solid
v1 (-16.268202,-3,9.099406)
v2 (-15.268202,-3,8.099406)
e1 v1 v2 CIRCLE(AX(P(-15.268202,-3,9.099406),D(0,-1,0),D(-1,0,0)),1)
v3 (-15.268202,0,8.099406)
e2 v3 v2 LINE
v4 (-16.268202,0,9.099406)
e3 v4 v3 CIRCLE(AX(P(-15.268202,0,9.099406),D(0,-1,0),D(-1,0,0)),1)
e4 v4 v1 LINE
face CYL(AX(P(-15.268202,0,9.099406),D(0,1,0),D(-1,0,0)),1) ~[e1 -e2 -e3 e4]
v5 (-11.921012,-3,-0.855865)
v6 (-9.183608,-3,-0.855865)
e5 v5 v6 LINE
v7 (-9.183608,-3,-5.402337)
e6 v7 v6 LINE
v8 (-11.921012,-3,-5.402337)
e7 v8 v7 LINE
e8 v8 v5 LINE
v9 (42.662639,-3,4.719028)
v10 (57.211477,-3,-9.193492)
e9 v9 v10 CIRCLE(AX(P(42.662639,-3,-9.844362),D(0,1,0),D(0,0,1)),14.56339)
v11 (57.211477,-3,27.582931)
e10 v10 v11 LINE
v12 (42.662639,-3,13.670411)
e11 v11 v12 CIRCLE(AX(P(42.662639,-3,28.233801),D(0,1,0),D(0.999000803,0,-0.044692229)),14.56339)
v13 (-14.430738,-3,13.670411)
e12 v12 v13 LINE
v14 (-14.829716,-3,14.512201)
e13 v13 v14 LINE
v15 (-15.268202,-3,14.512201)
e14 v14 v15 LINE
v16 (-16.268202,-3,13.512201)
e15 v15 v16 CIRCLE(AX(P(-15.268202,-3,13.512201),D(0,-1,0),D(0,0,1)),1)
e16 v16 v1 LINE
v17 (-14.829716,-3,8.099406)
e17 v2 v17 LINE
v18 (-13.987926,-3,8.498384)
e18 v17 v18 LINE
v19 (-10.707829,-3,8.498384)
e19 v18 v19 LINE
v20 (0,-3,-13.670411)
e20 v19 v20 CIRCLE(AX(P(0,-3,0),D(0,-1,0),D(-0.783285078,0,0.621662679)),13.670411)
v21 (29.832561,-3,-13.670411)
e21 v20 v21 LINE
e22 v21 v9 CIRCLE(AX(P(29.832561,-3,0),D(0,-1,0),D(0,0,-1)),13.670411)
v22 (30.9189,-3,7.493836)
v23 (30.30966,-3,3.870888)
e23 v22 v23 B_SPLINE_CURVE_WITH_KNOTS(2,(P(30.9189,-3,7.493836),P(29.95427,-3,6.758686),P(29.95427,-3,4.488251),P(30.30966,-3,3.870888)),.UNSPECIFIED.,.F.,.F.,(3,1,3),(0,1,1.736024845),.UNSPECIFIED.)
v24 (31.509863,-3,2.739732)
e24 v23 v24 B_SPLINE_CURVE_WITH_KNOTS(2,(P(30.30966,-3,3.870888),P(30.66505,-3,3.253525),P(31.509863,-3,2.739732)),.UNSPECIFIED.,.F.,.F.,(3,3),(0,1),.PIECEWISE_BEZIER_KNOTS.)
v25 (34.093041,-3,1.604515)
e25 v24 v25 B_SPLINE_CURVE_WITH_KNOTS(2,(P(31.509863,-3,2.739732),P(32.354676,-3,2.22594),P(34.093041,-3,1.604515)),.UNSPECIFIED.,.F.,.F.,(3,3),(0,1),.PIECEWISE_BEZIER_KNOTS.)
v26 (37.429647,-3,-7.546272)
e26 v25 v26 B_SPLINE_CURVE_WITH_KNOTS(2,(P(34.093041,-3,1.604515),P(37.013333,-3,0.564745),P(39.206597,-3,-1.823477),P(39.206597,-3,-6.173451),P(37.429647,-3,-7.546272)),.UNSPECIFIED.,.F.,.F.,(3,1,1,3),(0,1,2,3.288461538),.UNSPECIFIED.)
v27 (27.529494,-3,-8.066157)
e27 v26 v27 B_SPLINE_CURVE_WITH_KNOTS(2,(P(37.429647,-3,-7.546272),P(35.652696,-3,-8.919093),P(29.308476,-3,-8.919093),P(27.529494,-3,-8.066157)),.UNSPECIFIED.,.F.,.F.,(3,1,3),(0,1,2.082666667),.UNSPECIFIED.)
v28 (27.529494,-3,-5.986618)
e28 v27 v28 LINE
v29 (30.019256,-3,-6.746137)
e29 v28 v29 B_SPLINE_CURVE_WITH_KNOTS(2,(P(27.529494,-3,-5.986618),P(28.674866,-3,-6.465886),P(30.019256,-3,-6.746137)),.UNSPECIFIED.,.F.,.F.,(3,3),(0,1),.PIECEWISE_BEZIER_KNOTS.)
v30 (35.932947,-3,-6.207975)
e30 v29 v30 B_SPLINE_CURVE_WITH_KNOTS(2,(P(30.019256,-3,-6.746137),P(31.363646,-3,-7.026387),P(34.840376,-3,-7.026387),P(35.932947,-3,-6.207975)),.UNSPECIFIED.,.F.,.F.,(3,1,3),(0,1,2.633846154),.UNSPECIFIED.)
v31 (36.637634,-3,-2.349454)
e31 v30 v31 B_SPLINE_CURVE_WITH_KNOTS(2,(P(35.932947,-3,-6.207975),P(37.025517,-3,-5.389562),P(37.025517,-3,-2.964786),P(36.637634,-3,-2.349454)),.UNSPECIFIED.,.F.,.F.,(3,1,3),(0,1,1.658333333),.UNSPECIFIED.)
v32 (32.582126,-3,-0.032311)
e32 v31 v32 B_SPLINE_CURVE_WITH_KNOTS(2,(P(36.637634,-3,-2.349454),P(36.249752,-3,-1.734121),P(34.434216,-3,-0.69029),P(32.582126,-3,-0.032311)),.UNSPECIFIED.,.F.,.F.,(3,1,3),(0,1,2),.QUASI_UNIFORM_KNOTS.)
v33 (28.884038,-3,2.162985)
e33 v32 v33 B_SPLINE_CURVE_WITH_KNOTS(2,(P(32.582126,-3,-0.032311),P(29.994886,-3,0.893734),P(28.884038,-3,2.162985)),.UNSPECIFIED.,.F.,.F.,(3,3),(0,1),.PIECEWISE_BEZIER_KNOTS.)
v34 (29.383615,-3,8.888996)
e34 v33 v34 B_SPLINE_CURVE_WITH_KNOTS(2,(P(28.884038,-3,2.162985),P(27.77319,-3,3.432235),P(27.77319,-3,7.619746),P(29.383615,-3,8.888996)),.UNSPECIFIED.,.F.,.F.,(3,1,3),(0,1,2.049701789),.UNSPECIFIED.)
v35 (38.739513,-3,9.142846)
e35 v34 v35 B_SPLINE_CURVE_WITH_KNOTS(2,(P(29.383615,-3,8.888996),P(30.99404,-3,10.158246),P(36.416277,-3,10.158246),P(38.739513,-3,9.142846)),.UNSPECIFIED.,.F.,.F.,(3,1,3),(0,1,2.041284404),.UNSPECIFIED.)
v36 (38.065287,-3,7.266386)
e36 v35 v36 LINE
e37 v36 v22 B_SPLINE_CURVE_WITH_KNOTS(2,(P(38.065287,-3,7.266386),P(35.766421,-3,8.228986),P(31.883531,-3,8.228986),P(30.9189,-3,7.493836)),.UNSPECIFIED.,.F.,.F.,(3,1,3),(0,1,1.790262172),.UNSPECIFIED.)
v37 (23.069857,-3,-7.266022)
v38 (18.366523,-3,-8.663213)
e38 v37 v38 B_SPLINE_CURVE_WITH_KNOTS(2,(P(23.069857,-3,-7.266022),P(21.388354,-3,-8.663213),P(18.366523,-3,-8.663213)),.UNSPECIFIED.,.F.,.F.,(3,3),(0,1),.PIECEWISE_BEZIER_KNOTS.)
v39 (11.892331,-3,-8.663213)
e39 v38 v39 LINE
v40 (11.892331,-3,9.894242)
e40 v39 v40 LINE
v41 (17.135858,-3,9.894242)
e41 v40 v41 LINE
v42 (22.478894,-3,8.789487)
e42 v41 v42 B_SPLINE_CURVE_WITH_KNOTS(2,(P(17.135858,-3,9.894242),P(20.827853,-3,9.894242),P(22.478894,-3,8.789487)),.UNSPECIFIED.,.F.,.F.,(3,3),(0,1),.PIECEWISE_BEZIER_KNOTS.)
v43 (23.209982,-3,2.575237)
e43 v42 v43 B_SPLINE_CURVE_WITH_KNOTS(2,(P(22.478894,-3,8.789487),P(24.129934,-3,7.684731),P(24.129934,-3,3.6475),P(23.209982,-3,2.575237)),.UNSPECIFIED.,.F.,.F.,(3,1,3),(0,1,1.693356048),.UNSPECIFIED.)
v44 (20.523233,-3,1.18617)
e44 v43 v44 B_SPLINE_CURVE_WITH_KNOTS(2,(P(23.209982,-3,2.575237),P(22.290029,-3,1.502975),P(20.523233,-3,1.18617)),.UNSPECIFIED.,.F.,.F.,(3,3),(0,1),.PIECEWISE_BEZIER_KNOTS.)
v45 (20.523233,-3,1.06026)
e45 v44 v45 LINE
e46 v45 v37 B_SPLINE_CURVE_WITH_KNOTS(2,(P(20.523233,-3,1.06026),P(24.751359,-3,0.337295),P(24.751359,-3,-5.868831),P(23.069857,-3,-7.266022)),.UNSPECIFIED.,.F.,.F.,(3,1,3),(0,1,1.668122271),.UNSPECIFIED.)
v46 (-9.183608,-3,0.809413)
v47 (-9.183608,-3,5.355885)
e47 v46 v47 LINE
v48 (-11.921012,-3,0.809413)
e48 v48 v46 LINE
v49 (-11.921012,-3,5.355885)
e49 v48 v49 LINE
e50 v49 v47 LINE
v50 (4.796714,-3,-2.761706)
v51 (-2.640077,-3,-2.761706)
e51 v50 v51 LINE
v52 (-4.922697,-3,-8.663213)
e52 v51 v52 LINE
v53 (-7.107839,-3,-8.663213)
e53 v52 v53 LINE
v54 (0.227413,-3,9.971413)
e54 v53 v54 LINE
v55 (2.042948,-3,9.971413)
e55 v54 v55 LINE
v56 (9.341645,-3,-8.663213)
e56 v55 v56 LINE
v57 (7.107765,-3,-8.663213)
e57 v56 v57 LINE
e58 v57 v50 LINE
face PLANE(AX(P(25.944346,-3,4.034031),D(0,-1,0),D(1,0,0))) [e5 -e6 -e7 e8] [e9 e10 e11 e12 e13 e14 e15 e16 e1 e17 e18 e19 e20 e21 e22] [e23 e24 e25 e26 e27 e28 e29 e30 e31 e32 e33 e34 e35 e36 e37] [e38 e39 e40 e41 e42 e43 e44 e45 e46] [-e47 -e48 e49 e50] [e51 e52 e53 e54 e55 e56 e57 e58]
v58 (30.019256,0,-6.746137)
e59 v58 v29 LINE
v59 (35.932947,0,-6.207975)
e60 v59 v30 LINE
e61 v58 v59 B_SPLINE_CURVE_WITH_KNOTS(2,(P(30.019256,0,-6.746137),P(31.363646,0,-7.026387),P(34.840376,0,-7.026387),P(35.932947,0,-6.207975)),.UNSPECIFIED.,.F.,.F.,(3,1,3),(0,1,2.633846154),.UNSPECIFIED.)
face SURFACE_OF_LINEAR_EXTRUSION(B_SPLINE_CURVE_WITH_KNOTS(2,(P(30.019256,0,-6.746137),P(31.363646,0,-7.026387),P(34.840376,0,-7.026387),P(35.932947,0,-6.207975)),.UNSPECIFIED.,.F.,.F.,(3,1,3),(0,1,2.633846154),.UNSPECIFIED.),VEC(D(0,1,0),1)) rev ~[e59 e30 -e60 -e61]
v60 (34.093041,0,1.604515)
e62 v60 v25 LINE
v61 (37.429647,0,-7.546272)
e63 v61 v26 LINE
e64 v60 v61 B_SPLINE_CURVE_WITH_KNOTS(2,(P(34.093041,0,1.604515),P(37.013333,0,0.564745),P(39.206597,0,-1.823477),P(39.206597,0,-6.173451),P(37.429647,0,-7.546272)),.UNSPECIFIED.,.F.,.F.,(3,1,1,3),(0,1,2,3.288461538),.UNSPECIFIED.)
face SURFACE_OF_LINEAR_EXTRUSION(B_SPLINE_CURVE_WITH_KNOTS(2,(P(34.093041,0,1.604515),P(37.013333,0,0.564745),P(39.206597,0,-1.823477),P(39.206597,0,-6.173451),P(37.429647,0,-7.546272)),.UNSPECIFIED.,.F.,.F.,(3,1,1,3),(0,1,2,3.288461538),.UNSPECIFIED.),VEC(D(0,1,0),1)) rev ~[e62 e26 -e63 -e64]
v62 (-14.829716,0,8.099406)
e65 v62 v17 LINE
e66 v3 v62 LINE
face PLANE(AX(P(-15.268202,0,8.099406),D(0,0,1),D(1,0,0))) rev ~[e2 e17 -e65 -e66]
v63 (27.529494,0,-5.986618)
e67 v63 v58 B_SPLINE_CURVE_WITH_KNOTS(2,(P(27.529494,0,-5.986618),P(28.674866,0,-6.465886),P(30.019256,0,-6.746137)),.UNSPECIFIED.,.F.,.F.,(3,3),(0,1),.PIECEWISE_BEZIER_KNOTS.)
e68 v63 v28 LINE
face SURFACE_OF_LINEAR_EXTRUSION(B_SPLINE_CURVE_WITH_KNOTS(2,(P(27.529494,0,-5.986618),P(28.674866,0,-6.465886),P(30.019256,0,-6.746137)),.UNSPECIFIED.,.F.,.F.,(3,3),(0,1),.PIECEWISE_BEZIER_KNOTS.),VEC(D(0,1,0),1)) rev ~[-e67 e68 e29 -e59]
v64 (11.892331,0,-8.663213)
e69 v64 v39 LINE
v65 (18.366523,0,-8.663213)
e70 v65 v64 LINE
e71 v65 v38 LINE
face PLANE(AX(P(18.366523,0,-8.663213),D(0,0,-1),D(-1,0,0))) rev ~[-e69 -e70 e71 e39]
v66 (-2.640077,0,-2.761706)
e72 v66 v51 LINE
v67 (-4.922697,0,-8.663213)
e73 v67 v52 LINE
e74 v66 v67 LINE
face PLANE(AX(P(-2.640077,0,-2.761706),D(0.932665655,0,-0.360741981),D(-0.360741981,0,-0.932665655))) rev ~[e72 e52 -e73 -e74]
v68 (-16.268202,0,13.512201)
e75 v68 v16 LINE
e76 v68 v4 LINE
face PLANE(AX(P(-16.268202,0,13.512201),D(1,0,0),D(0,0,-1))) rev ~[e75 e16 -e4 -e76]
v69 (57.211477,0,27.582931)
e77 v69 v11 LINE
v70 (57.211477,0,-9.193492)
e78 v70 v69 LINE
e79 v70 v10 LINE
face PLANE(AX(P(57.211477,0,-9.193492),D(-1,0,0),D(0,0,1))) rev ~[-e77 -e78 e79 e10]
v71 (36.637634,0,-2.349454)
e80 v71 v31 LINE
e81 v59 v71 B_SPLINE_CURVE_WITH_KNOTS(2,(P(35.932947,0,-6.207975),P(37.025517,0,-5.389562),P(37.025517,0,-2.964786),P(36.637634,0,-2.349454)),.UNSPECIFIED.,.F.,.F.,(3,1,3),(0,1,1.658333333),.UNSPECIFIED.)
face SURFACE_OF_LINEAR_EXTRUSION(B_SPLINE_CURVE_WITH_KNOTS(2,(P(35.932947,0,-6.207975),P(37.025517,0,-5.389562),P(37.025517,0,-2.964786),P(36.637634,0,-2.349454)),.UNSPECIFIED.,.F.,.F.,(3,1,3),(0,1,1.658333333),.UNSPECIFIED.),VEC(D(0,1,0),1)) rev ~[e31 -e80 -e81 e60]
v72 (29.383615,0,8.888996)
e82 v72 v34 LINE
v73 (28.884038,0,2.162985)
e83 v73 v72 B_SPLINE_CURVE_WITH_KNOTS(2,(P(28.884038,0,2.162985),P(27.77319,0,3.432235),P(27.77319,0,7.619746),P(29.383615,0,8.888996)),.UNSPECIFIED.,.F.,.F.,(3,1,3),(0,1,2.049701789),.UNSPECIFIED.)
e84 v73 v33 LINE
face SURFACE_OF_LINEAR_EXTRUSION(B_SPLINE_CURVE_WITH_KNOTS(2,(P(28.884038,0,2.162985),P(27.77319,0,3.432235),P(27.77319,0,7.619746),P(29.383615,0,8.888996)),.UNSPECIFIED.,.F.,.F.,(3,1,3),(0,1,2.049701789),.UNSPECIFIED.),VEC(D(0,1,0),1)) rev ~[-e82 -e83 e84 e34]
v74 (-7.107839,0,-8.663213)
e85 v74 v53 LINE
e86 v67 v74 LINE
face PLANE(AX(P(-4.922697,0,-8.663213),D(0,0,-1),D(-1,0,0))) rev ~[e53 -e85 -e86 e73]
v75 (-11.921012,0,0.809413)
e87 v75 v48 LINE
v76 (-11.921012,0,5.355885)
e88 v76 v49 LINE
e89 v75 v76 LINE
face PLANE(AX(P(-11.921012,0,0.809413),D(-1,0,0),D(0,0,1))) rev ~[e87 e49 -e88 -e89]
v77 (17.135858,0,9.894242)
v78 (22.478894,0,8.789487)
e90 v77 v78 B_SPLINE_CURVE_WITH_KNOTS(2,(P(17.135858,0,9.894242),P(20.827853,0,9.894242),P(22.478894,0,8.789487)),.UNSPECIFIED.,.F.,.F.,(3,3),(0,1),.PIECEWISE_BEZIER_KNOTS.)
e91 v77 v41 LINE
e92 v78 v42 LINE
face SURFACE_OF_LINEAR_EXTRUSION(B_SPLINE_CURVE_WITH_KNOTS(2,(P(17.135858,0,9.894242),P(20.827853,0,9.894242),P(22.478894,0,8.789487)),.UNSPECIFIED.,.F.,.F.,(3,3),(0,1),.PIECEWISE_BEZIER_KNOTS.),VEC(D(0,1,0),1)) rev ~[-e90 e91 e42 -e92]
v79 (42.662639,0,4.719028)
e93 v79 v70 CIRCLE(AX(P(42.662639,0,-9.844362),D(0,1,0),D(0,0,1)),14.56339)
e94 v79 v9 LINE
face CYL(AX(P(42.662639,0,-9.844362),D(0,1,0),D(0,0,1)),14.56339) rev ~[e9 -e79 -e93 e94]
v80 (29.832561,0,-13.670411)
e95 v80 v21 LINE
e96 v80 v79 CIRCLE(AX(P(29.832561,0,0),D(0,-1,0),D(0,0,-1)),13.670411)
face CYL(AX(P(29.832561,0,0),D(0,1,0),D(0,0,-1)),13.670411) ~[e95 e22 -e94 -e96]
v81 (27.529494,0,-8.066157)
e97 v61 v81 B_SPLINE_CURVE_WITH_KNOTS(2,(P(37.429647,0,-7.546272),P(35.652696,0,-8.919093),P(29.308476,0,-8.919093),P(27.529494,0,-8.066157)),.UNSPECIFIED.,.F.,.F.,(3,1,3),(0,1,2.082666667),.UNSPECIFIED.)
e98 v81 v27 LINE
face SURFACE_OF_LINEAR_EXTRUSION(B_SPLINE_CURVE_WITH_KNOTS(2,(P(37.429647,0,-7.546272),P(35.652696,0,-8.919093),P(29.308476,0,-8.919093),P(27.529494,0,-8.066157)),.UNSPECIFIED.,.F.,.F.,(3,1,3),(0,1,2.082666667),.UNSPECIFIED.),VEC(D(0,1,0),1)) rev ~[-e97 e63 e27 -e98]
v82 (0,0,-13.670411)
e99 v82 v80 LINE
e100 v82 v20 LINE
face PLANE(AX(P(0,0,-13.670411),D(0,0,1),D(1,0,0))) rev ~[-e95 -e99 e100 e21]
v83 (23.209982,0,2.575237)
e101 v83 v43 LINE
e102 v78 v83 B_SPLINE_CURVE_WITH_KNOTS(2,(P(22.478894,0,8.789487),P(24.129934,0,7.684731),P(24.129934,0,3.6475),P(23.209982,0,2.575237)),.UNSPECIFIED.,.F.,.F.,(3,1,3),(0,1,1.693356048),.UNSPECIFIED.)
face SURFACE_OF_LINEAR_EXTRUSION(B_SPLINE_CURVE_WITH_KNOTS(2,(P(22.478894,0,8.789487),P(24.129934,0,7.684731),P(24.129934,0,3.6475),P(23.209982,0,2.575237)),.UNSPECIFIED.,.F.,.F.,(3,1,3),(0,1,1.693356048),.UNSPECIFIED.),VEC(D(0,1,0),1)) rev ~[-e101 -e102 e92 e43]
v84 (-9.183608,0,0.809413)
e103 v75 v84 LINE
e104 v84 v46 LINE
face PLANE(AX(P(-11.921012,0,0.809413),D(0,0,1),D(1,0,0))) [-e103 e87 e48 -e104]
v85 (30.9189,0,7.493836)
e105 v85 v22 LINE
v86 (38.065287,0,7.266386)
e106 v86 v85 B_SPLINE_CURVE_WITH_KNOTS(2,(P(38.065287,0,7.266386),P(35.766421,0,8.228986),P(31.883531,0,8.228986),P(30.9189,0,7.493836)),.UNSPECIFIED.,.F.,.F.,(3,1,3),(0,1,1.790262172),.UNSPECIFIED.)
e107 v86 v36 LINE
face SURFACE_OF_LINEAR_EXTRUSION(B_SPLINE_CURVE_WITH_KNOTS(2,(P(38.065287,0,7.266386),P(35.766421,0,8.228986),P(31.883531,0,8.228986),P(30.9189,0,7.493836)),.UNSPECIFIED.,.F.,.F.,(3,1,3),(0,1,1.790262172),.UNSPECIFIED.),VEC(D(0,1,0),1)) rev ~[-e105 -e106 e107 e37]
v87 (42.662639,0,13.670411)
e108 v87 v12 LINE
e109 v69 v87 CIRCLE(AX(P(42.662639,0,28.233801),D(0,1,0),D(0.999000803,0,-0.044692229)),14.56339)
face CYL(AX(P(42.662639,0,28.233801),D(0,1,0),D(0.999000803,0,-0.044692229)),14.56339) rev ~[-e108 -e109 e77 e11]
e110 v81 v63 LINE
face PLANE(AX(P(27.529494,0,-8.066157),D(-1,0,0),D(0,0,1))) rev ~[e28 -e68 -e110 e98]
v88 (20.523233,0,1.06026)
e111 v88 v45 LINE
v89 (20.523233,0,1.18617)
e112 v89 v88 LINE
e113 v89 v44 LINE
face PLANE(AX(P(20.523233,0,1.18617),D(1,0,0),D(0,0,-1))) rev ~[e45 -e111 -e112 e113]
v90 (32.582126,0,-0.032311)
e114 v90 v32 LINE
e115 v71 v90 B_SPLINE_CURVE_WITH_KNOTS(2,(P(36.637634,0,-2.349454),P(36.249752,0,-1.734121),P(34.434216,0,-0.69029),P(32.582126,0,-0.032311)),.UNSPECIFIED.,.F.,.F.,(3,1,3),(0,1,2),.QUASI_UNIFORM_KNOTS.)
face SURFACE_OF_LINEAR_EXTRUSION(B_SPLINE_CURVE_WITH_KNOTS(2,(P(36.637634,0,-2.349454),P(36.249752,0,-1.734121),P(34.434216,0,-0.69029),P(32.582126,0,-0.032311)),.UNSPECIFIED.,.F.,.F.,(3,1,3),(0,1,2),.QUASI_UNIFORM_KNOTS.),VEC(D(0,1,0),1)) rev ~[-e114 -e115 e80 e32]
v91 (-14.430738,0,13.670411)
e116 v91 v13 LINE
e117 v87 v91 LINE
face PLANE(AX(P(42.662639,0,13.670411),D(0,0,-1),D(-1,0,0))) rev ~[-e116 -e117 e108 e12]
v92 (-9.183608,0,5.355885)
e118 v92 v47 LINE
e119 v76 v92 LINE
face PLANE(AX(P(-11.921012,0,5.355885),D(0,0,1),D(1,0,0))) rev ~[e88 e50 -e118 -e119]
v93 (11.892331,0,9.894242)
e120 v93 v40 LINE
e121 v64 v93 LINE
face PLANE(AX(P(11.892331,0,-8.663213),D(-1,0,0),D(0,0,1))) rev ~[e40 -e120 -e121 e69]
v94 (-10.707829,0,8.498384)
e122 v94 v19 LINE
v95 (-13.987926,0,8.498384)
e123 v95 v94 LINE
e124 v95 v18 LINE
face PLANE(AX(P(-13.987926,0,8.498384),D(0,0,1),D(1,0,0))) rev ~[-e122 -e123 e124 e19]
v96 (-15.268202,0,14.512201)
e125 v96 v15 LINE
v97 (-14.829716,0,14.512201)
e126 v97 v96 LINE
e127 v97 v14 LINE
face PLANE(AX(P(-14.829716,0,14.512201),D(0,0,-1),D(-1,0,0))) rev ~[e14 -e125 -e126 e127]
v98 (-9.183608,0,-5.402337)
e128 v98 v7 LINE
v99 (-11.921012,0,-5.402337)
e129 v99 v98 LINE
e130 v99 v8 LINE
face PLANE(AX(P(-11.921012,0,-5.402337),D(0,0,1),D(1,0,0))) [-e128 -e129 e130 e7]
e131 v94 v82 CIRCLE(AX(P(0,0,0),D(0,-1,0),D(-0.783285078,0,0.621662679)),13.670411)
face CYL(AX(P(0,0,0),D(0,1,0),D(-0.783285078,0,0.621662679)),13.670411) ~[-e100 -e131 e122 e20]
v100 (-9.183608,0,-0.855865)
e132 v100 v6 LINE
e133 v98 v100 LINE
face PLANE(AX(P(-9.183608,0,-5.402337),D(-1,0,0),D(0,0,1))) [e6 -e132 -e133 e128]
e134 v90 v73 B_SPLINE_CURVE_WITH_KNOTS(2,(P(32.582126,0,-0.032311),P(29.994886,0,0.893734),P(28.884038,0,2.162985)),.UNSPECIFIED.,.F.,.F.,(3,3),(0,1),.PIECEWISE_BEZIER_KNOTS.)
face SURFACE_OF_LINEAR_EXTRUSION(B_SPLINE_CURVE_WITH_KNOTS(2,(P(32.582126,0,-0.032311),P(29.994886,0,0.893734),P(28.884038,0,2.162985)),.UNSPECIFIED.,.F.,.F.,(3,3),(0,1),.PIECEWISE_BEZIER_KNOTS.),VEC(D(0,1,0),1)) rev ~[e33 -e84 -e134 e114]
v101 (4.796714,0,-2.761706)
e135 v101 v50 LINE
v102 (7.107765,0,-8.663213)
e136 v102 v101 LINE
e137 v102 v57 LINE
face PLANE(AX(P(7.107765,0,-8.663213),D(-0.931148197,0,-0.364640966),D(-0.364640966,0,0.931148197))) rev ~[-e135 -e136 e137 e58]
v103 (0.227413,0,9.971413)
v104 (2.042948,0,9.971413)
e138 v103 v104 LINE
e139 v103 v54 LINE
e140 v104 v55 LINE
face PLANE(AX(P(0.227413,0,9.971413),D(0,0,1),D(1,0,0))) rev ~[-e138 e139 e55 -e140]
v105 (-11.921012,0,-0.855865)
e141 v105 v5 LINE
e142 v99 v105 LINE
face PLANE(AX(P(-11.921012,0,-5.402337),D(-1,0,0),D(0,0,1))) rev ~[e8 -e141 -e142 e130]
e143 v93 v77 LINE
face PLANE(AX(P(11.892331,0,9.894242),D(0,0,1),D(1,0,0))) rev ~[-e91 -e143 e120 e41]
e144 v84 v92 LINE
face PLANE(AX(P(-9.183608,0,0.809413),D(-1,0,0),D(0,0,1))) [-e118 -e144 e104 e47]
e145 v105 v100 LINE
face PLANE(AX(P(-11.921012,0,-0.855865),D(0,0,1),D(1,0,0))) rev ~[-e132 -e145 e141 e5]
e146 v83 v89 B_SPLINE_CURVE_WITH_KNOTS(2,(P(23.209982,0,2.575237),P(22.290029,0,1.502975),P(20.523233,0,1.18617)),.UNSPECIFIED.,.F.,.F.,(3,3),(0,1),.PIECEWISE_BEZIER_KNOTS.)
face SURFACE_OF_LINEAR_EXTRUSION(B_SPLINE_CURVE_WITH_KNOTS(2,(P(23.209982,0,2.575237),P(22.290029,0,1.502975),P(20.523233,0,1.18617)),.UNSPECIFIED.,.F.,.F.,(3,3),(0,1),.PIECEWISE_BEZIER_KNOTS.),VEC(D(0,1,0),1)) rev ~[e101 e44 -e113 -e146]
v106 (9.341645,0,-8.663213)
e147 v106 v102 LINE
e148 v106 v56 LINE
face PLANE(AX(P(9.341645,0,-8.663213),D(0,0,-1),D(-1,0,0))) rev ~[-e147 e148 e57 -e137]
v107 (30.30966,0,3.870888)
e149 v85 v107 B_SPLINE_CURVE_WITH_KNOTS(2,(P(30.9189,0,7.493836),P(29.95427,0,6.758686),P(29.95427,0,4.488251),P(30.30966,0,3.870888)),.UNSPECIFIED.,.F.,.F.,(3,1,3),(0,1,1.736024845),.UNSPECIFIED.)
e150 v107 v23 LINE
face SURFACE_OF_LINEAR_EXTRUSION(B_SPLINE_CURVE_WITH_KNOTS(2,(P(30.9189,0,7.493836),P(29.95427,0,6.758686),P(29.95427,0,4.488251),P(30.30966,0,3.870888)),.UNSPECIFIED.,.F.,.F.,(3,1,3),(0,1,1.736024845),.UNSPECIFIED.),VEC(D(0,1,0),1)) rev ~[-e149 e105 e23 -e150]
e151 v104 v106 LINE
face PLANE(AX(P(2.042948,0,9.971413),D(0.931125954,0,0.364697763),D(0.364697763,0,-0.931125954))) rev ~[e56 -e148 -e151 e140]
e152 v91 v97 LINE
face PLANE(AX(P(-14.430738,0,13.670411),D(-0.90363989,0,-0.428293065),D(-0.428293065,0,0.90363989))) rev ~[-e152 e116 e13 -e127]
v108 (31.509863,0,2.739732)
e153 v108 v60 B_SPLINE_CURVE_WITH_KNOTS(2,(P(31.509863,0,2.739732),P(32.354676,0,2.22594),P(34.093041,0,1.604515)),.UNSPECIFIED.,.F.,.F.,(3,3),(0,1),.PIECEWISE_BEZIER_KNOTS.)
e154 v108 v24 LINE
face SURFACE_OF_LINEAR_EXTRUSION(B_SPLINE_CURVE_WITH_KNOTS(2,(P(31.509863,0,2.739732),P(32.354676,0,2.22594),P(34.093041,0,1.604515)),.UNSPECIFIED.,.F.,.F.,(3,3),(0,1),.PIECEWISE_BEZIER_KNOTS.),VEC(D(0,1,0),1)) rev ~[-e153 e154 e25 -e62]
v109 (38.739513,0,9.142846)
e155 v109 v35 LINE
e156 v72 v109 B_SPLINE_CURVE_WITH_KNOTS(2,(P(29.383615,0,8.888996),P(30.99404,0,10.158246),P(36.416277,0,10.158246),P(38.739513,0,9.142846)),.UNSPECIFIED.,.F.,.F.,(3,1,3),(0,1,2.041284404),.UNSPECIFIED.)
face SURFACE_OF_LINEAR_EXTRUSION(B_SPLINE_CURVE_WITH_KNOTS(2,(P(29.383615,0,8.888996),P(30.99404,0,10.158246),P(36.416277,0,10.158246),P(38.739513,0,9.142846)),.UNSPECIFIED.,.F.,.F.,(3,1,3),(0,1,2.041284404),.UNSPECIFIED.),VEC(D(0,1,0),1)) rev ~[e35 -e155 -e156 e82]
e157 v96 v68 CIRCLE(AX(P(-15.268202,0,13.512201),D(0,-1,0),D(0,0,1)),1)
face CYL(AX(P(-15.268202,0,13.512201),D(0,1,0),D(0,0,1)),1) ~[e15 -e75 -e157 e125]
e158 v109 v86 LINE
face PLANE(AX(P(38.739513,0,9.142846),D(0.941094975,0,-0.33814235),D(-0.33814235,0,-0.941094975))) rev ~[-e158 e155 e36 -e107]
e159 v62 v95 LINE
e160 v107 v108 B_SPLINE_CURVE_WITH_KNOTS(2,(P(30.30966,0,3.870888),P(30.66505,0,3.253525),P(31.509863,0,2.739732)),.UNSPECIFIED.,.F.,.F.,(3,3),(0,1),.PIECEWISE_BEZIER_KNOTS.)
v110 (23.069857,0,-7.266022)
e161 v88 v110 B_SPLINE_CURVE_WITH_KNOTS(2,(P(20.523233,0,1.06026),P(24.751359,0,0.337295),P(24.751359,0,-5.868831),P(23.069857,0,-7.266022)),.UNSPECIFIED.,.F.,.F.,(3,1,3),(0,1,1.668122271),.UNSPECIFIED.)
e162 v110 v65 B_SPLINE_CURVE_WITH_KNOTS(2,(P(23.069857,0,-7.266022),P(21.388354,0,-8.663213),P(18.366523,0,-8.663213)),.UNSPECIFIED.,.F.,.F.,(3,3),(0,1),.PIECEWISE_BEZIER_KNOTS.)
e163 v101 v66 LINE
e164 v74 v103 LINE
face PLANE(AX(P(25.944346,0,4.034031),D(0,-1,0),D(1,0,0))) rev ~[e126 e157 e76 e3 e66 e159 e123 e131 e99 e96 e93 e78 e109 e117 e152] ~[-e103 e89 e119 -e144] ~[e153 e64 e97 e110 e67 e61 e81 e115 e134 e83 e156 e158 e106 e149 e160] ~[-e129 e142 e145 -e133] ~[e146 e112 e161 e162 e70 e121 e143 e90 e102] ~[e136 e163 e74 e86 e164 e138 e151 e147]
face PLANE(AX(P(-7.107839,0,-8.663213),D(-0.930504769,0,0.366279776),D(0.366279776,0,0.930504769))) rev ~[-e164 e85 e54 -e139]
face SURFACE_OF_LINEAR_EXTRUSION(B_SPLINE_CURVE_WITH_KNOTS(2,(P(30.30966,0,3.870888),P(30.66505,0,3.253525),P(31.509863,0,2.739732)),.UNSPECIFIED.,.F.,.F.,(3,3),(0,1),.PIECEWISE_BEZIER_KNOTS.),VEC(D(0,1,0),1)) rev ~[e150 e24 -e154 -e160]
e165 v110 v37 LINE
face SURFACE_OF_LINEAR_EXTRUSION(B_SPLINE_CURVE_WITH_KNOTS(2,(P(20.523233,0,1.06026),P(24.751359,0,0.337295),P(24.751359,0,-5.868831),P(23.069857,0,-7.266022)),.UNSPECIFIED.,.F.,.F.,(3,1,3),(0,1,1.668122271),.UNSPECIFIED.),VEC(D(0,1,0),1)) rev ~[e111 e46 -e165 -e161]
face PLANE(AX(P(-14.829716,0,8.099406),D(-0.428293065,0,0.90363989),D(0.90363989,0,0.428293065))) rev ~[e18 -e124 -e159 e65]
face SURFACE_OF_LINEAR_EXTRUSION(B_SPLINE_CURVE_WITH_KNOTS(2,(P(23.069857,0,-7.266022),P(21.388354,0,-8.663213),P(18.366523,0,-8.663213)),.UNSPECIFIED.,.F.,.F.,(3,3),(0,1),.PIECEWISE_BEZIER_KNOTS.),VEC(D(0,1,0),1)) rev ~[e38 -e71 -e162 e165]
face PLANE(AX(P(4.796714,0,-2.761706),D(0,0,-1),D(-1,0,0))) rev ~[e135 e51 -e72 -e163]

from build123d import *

# Parameters (mm, degrees)
F0_W     = 2.7374038473
F0_H     = 4.5464726281
F1_DEPTH = 3


with BuildPart() as f1:
    # F0 (on Front) → F1 (new body)
    with BuildSketch(Plane.XZ):
        with BuildLine():
            Line((-13.9879264009, 8.4983842463), (-10.7078288449, 8.4983842463))
            ThreePointArc((-10.7078288449, 8.4983842463), (-12.3096819162, -5.9457433928), (0, -13.6704108706))
            Line((0, -13.6704108706), (29.832560569, -13.6704108706))
            ThreePointArc((29.832560569, -13.6704108706), (41.0439649972, -7.8220549805), (42.6626390029, 4.7190275219))
            ThreePointArc((42.6626390029, 4.7190275219), (52.7277631814, 0.6811115523), (57.2114773095, -9.193492122))
            Line((57.2114773095, -9.193492122), (57.2114773095, 27.5829305145))
            ThreePointArc((57.2114773095, 27.5829305145), (52.7277631814, 17.7083268402), (42.6626390029, 13.6704108706))
            Line((42.6626390029, 13.6704108706), (29.832560569, 13.6704108706))
            Line((29.832560569, 13.6704108706), (0, 13.6704108706))
            Line((0, 13.6704108706), (-14.4307379611, 13.6704108706))
            Line((-14.4307379611, 13.6704108706), (-14.8297163701, 14.5122008398))
            Line((-14.8297163701, 14.5122008398), (-15.268201828, 14.5122008398))
            ThreePointArc((-15.268201828, 14.5122008398), (-15.9753086092, 14.219307621), (-16.268201828, 13.5122008398))
            Line((-16.268201828, 13.5122008398), (-16.268201828, 9.0994058373))
            ThreePointArc((-16.268201828, 9.0994058373), (-15.9753086092, 8.3922990562), (-15.268201828, 8.0994058373))
            Line((-15.268201828, 8.0994058373), (-14.8297163701, 8.0994058373))
            Line((-14.8297163701, 8.0994058373), (-13.9879264009, 8.4983842463))
        make_face()
        with Locations((-10.5523099191, -3.12910098)):
            Rectangle(F0_W, F0_H, mode=Mode.SUBTRACT)
        Polygon((9.3416453156, -8.6632125312), (7.1077647943, -8.6632125312), (4.7967138551, -2.7617063542), (-2.6400774802, -2.7617063542), (-4.9226972128, -8.6632125312), (-7.1078385226, -8.6632125312), (0.2274127889, 9.9714126168), (2.0429484125, 9.9714126168), align=None, mode=Mode.SUBTRACT)
        with Locations((-10.5523099191, 3.0826488801)):
            Rectangle(F0_W, F0_H, mode=Mode.SUBTRACT)
        with BuildLine():
            Line((11.8923307107, -8.6632125312), (11.8923307107, 9.8942421988))
            Line((11.8923307107, 9.8942421988), (17.1358575342, 9.8942421988))
            add(Edge.make_bspline(
                [(17.1358575342, 9.8942421988), (20.8278527957, 9.8942421988), (22.4788935809, 8.7894867411)],
                knots=[0, 0, 0, 1, 1, 1], degree=2))
            add(Edge.make_bspline(
                [(22.4788935809, 8.7894867411), (24.1299343662, 7.6847312833), (24.1299343662, 5.300571527)],
                knots=[0, 0, 0, 1, 1, 1], degree=2))
            add(Edge.make_bspline(
                [(24.1299343662, 5.300571527), (24.1299343662, 3.6474999413), (23.2099817515, 2.5752372911)],
                knots=[0, 0, 0, 1, 1, 1], degree=2))
            add(Edge.make_bspline(
                [(23.2099817515, 2.5752372911), (22.2900291369, 1.5029746409), (20.5232327246, 1.1861697669)],
                knots=[0, 0, 0, 1, 1, 1], degree=2))
            Line((20.5232327246, 1.1861697669), (20.5232327246, 1.0602601376))
            add(Edge.make_bspline(
                [(20.5232327246, 1.0602601376), (24.7513593112, 0.3372951689), (24.7513593112, -3.3831312992)],
                knots=[0, 0, 0, 1, 1, 1], degree=2))
            add(Edge.make_bspline(
                [(24.7513593112, -3.3831312992), (24.7513593112, -5.8688310792), (23.0698565188, -7.2660218052)],
                knots=[0, 0, 0, 1, 1, 1], degree=2))
            add(Edge.make_bspline(
                [(23.0698565188, -7.2660218052), (21.3883537265, -8.6632125312), (18.3665226214, -8.6632125312)],
                knots=[0, 0, 0, 1, 1, 1], degree=2))
            Line((18.3665226214, -8.6632125312), (11.8923307107, -8.6632125312))
        make_face(mode=Mode.SUBTRACT)
        with BuildLine():
            add(Edge.make_bspline(
                [(38.1099648282, -0.6293658567), (39.2065970841, -1.8234765353), (39.2065970841, -3.7243057788)],
                knots=[0, 0, 0, 1, 1, 1], degree=2))
            add(Edge.make_bspline(
                [(39.2065970841, -3.7243057788), (39.2065970841, -6.1734511503), (37.4296466694, -7.5462722706)],
                knots=[0, 0, 0, 1, 1, 1], degree=2))
            add(Edge.make_bspline(
                [(37.4296466694, -7.5462722706), (35.6526962548, -8.919093391), (32.606495544, -8.919093391)],
                knots=[0, 0, 0, 1, 1, 1], degree=2))
            add(Edge.make_bspline(
                [(32.606495544, -8.919093391), (29.3084755745, -8.919093391), (27.5294943594, -8.0661571919)],
                knots=[0, 0, 0, 1, 1, 1], degree=2))
            Line((27.5294943594, -8.0661571919), (27.5294943594, -5.9866175067))
            add(Edge.make_bspline(
                [(27.5294943594, -5.9866175067), (28.6748658267, -6.4658864185), (30.0192557403, -6.7461368839)],
                knots=[0, 0, 0, 1, 1, 1], degree=2))
            add(Edge.make_bspline(
                [(30.0192557403, -6.7461368839), (31.363645654, -7.0263873493), (32.683665962, -7.0263873493)],
                knots=[0, 0, 0, 1, 1, 1], degree=2))
            add(Edge.make_bspline(
                [(32.683665962, -7.0263873493), (34.8403760653, -7.0263873493), (35.9329467202, -6.2079747584)],
                knots=[0, 0, 0, 1, 1, 1], degree=2))
            add(Edge.make_bspline(
                [(35.9329467202, -6.2079747584), (37.0255173751, -5.3895621674), (37.0255173751, -3.9273858262)],
                knots=[0, 0, 0, 1, 1, 1], degree=2))
            add(Edge.make_bspline(
                [(37.0255173751, -3.9273858262), (37.0255173751, -2.9647864016), (36.6376344846, -2.349453858)],
                knots=[0, 0, 0, 1, 1, 1], degree=2))
            add(Edge.make_bspline(
                [(36.6376344846, -2.349453858), (36.2497515941, -1.7341213145), (35.3419837823, -1.2122055927)],
                knots=[0, 0, 0, 1, 1, 1], degree=2))
            add(Edge.make_bspline(
                [(35.3419837823, -1.2122055927), (34.4342159705, -0.6902898709), (32.5821259383, -0.0323105174)],
                knots=[0, 0, 0, 1, 1, 1], degree=2))
            add(Edge.make_bspline(
                [(32.5821259383, -0.0323105174), (29.9948861347, 0.8937344987), (28.8840382755, 2.1629847949)],
                knots=[0, 0, 0, 1, 1, 1], degree=2))
            add(Edge.make_bspline(
                [(28.8840382755, 2.1629847949), (27.7731904163, 3.432235091), (27.7731904163, 5.4752203677)],
                knots=[0, 0, 0, 1, 1, 1], degree=2))
            add(Edge.make_bspline(
                [(27.7731904163, 5.4752203677), (27.7731904163, 7.6197456681), (29.383615192, 8.8889959643)],
                knots=[0, 0, 0, 1, 1, 1], degree=2))
            add(Edge.make_bspline(
                [(29.383615192, 8.8889959643), (30.9940399678, 10.1582462604), (33.6503269876, 10.1582462604)],
                knots=[0, 0, 0, 1, 1, 1], degree=2))
            add(Edge.make_bspline(
                [(33.6503269876, 10.1582462604), (36.416277233, 10.1582462604), (38.7395129751, 9.1428460235)],
                knots=[0, 0, 0, 1, 1, 1], degree=2))
            Line((38.7395129751, 9.1428460235), (38.0652872178, 7.2663863857))
            add(Edge.make_bspline(
                [(38.0652872178, 7.2663863857), (35.7664210814, 8.2289858103), (33.5975261753, 8.2289858103)],
                knots=[0, 0, 0, 1, 1, 1], degree=2))
            add(Edge.make_bspline(
                [(33.5975261753, 8.2289858103), (31.8835305753, 8.2289858103), (30.9189003503, 7.4938360387)],
                knots=[0, 0, 0, 1, 1, 1], degree=2))
            add(Edge.make_bspline(
                [(30.9189003503, 7.4938360387), (29.9542701252, 6.7586862672), (29.9542701252, 5.450850762)],
                knots=[0, 0, 0, 1, 1, 1], degree=2))
            add(Edge.make_bspline(
                [(29.9542701252, 5.450850762), (29.9542701252, 4.4882513374), (30.3096602081, 3.8708879934)],
                knots=[0, 0, 0, 1, 1, 1], degree=2))
            add(Edge.make_bspline(
                [(30.3096602081, 3.8708879934), (30.665050291, 3.2535246493), (31.5098632882, 2.7397321294)],
                knots=[0, 0, 0, 1, 1, 1], degree=2))
            add(Edge.make_bspline(
                [(31.5098632882, 2.7397321294), (32.3546762853, 2.2259396096), (34.0930414909, 1.6045146646)],
                knots=[0, 0, 0, 1, 1, 1], degree=2))
            add(Edge.make_bspline(
                [(34.0930414909, 1.6045146646), (37.0133325723, 0.5647448219), (38.1099648282, -0.6293658567)],
                knots=[0, 0, 0, 1, 1, 1], degree=2))
        make_face(mode=Mode.SUBTRACT)
    extrude(amount=F1_DEPTH)


solid = f1.part
